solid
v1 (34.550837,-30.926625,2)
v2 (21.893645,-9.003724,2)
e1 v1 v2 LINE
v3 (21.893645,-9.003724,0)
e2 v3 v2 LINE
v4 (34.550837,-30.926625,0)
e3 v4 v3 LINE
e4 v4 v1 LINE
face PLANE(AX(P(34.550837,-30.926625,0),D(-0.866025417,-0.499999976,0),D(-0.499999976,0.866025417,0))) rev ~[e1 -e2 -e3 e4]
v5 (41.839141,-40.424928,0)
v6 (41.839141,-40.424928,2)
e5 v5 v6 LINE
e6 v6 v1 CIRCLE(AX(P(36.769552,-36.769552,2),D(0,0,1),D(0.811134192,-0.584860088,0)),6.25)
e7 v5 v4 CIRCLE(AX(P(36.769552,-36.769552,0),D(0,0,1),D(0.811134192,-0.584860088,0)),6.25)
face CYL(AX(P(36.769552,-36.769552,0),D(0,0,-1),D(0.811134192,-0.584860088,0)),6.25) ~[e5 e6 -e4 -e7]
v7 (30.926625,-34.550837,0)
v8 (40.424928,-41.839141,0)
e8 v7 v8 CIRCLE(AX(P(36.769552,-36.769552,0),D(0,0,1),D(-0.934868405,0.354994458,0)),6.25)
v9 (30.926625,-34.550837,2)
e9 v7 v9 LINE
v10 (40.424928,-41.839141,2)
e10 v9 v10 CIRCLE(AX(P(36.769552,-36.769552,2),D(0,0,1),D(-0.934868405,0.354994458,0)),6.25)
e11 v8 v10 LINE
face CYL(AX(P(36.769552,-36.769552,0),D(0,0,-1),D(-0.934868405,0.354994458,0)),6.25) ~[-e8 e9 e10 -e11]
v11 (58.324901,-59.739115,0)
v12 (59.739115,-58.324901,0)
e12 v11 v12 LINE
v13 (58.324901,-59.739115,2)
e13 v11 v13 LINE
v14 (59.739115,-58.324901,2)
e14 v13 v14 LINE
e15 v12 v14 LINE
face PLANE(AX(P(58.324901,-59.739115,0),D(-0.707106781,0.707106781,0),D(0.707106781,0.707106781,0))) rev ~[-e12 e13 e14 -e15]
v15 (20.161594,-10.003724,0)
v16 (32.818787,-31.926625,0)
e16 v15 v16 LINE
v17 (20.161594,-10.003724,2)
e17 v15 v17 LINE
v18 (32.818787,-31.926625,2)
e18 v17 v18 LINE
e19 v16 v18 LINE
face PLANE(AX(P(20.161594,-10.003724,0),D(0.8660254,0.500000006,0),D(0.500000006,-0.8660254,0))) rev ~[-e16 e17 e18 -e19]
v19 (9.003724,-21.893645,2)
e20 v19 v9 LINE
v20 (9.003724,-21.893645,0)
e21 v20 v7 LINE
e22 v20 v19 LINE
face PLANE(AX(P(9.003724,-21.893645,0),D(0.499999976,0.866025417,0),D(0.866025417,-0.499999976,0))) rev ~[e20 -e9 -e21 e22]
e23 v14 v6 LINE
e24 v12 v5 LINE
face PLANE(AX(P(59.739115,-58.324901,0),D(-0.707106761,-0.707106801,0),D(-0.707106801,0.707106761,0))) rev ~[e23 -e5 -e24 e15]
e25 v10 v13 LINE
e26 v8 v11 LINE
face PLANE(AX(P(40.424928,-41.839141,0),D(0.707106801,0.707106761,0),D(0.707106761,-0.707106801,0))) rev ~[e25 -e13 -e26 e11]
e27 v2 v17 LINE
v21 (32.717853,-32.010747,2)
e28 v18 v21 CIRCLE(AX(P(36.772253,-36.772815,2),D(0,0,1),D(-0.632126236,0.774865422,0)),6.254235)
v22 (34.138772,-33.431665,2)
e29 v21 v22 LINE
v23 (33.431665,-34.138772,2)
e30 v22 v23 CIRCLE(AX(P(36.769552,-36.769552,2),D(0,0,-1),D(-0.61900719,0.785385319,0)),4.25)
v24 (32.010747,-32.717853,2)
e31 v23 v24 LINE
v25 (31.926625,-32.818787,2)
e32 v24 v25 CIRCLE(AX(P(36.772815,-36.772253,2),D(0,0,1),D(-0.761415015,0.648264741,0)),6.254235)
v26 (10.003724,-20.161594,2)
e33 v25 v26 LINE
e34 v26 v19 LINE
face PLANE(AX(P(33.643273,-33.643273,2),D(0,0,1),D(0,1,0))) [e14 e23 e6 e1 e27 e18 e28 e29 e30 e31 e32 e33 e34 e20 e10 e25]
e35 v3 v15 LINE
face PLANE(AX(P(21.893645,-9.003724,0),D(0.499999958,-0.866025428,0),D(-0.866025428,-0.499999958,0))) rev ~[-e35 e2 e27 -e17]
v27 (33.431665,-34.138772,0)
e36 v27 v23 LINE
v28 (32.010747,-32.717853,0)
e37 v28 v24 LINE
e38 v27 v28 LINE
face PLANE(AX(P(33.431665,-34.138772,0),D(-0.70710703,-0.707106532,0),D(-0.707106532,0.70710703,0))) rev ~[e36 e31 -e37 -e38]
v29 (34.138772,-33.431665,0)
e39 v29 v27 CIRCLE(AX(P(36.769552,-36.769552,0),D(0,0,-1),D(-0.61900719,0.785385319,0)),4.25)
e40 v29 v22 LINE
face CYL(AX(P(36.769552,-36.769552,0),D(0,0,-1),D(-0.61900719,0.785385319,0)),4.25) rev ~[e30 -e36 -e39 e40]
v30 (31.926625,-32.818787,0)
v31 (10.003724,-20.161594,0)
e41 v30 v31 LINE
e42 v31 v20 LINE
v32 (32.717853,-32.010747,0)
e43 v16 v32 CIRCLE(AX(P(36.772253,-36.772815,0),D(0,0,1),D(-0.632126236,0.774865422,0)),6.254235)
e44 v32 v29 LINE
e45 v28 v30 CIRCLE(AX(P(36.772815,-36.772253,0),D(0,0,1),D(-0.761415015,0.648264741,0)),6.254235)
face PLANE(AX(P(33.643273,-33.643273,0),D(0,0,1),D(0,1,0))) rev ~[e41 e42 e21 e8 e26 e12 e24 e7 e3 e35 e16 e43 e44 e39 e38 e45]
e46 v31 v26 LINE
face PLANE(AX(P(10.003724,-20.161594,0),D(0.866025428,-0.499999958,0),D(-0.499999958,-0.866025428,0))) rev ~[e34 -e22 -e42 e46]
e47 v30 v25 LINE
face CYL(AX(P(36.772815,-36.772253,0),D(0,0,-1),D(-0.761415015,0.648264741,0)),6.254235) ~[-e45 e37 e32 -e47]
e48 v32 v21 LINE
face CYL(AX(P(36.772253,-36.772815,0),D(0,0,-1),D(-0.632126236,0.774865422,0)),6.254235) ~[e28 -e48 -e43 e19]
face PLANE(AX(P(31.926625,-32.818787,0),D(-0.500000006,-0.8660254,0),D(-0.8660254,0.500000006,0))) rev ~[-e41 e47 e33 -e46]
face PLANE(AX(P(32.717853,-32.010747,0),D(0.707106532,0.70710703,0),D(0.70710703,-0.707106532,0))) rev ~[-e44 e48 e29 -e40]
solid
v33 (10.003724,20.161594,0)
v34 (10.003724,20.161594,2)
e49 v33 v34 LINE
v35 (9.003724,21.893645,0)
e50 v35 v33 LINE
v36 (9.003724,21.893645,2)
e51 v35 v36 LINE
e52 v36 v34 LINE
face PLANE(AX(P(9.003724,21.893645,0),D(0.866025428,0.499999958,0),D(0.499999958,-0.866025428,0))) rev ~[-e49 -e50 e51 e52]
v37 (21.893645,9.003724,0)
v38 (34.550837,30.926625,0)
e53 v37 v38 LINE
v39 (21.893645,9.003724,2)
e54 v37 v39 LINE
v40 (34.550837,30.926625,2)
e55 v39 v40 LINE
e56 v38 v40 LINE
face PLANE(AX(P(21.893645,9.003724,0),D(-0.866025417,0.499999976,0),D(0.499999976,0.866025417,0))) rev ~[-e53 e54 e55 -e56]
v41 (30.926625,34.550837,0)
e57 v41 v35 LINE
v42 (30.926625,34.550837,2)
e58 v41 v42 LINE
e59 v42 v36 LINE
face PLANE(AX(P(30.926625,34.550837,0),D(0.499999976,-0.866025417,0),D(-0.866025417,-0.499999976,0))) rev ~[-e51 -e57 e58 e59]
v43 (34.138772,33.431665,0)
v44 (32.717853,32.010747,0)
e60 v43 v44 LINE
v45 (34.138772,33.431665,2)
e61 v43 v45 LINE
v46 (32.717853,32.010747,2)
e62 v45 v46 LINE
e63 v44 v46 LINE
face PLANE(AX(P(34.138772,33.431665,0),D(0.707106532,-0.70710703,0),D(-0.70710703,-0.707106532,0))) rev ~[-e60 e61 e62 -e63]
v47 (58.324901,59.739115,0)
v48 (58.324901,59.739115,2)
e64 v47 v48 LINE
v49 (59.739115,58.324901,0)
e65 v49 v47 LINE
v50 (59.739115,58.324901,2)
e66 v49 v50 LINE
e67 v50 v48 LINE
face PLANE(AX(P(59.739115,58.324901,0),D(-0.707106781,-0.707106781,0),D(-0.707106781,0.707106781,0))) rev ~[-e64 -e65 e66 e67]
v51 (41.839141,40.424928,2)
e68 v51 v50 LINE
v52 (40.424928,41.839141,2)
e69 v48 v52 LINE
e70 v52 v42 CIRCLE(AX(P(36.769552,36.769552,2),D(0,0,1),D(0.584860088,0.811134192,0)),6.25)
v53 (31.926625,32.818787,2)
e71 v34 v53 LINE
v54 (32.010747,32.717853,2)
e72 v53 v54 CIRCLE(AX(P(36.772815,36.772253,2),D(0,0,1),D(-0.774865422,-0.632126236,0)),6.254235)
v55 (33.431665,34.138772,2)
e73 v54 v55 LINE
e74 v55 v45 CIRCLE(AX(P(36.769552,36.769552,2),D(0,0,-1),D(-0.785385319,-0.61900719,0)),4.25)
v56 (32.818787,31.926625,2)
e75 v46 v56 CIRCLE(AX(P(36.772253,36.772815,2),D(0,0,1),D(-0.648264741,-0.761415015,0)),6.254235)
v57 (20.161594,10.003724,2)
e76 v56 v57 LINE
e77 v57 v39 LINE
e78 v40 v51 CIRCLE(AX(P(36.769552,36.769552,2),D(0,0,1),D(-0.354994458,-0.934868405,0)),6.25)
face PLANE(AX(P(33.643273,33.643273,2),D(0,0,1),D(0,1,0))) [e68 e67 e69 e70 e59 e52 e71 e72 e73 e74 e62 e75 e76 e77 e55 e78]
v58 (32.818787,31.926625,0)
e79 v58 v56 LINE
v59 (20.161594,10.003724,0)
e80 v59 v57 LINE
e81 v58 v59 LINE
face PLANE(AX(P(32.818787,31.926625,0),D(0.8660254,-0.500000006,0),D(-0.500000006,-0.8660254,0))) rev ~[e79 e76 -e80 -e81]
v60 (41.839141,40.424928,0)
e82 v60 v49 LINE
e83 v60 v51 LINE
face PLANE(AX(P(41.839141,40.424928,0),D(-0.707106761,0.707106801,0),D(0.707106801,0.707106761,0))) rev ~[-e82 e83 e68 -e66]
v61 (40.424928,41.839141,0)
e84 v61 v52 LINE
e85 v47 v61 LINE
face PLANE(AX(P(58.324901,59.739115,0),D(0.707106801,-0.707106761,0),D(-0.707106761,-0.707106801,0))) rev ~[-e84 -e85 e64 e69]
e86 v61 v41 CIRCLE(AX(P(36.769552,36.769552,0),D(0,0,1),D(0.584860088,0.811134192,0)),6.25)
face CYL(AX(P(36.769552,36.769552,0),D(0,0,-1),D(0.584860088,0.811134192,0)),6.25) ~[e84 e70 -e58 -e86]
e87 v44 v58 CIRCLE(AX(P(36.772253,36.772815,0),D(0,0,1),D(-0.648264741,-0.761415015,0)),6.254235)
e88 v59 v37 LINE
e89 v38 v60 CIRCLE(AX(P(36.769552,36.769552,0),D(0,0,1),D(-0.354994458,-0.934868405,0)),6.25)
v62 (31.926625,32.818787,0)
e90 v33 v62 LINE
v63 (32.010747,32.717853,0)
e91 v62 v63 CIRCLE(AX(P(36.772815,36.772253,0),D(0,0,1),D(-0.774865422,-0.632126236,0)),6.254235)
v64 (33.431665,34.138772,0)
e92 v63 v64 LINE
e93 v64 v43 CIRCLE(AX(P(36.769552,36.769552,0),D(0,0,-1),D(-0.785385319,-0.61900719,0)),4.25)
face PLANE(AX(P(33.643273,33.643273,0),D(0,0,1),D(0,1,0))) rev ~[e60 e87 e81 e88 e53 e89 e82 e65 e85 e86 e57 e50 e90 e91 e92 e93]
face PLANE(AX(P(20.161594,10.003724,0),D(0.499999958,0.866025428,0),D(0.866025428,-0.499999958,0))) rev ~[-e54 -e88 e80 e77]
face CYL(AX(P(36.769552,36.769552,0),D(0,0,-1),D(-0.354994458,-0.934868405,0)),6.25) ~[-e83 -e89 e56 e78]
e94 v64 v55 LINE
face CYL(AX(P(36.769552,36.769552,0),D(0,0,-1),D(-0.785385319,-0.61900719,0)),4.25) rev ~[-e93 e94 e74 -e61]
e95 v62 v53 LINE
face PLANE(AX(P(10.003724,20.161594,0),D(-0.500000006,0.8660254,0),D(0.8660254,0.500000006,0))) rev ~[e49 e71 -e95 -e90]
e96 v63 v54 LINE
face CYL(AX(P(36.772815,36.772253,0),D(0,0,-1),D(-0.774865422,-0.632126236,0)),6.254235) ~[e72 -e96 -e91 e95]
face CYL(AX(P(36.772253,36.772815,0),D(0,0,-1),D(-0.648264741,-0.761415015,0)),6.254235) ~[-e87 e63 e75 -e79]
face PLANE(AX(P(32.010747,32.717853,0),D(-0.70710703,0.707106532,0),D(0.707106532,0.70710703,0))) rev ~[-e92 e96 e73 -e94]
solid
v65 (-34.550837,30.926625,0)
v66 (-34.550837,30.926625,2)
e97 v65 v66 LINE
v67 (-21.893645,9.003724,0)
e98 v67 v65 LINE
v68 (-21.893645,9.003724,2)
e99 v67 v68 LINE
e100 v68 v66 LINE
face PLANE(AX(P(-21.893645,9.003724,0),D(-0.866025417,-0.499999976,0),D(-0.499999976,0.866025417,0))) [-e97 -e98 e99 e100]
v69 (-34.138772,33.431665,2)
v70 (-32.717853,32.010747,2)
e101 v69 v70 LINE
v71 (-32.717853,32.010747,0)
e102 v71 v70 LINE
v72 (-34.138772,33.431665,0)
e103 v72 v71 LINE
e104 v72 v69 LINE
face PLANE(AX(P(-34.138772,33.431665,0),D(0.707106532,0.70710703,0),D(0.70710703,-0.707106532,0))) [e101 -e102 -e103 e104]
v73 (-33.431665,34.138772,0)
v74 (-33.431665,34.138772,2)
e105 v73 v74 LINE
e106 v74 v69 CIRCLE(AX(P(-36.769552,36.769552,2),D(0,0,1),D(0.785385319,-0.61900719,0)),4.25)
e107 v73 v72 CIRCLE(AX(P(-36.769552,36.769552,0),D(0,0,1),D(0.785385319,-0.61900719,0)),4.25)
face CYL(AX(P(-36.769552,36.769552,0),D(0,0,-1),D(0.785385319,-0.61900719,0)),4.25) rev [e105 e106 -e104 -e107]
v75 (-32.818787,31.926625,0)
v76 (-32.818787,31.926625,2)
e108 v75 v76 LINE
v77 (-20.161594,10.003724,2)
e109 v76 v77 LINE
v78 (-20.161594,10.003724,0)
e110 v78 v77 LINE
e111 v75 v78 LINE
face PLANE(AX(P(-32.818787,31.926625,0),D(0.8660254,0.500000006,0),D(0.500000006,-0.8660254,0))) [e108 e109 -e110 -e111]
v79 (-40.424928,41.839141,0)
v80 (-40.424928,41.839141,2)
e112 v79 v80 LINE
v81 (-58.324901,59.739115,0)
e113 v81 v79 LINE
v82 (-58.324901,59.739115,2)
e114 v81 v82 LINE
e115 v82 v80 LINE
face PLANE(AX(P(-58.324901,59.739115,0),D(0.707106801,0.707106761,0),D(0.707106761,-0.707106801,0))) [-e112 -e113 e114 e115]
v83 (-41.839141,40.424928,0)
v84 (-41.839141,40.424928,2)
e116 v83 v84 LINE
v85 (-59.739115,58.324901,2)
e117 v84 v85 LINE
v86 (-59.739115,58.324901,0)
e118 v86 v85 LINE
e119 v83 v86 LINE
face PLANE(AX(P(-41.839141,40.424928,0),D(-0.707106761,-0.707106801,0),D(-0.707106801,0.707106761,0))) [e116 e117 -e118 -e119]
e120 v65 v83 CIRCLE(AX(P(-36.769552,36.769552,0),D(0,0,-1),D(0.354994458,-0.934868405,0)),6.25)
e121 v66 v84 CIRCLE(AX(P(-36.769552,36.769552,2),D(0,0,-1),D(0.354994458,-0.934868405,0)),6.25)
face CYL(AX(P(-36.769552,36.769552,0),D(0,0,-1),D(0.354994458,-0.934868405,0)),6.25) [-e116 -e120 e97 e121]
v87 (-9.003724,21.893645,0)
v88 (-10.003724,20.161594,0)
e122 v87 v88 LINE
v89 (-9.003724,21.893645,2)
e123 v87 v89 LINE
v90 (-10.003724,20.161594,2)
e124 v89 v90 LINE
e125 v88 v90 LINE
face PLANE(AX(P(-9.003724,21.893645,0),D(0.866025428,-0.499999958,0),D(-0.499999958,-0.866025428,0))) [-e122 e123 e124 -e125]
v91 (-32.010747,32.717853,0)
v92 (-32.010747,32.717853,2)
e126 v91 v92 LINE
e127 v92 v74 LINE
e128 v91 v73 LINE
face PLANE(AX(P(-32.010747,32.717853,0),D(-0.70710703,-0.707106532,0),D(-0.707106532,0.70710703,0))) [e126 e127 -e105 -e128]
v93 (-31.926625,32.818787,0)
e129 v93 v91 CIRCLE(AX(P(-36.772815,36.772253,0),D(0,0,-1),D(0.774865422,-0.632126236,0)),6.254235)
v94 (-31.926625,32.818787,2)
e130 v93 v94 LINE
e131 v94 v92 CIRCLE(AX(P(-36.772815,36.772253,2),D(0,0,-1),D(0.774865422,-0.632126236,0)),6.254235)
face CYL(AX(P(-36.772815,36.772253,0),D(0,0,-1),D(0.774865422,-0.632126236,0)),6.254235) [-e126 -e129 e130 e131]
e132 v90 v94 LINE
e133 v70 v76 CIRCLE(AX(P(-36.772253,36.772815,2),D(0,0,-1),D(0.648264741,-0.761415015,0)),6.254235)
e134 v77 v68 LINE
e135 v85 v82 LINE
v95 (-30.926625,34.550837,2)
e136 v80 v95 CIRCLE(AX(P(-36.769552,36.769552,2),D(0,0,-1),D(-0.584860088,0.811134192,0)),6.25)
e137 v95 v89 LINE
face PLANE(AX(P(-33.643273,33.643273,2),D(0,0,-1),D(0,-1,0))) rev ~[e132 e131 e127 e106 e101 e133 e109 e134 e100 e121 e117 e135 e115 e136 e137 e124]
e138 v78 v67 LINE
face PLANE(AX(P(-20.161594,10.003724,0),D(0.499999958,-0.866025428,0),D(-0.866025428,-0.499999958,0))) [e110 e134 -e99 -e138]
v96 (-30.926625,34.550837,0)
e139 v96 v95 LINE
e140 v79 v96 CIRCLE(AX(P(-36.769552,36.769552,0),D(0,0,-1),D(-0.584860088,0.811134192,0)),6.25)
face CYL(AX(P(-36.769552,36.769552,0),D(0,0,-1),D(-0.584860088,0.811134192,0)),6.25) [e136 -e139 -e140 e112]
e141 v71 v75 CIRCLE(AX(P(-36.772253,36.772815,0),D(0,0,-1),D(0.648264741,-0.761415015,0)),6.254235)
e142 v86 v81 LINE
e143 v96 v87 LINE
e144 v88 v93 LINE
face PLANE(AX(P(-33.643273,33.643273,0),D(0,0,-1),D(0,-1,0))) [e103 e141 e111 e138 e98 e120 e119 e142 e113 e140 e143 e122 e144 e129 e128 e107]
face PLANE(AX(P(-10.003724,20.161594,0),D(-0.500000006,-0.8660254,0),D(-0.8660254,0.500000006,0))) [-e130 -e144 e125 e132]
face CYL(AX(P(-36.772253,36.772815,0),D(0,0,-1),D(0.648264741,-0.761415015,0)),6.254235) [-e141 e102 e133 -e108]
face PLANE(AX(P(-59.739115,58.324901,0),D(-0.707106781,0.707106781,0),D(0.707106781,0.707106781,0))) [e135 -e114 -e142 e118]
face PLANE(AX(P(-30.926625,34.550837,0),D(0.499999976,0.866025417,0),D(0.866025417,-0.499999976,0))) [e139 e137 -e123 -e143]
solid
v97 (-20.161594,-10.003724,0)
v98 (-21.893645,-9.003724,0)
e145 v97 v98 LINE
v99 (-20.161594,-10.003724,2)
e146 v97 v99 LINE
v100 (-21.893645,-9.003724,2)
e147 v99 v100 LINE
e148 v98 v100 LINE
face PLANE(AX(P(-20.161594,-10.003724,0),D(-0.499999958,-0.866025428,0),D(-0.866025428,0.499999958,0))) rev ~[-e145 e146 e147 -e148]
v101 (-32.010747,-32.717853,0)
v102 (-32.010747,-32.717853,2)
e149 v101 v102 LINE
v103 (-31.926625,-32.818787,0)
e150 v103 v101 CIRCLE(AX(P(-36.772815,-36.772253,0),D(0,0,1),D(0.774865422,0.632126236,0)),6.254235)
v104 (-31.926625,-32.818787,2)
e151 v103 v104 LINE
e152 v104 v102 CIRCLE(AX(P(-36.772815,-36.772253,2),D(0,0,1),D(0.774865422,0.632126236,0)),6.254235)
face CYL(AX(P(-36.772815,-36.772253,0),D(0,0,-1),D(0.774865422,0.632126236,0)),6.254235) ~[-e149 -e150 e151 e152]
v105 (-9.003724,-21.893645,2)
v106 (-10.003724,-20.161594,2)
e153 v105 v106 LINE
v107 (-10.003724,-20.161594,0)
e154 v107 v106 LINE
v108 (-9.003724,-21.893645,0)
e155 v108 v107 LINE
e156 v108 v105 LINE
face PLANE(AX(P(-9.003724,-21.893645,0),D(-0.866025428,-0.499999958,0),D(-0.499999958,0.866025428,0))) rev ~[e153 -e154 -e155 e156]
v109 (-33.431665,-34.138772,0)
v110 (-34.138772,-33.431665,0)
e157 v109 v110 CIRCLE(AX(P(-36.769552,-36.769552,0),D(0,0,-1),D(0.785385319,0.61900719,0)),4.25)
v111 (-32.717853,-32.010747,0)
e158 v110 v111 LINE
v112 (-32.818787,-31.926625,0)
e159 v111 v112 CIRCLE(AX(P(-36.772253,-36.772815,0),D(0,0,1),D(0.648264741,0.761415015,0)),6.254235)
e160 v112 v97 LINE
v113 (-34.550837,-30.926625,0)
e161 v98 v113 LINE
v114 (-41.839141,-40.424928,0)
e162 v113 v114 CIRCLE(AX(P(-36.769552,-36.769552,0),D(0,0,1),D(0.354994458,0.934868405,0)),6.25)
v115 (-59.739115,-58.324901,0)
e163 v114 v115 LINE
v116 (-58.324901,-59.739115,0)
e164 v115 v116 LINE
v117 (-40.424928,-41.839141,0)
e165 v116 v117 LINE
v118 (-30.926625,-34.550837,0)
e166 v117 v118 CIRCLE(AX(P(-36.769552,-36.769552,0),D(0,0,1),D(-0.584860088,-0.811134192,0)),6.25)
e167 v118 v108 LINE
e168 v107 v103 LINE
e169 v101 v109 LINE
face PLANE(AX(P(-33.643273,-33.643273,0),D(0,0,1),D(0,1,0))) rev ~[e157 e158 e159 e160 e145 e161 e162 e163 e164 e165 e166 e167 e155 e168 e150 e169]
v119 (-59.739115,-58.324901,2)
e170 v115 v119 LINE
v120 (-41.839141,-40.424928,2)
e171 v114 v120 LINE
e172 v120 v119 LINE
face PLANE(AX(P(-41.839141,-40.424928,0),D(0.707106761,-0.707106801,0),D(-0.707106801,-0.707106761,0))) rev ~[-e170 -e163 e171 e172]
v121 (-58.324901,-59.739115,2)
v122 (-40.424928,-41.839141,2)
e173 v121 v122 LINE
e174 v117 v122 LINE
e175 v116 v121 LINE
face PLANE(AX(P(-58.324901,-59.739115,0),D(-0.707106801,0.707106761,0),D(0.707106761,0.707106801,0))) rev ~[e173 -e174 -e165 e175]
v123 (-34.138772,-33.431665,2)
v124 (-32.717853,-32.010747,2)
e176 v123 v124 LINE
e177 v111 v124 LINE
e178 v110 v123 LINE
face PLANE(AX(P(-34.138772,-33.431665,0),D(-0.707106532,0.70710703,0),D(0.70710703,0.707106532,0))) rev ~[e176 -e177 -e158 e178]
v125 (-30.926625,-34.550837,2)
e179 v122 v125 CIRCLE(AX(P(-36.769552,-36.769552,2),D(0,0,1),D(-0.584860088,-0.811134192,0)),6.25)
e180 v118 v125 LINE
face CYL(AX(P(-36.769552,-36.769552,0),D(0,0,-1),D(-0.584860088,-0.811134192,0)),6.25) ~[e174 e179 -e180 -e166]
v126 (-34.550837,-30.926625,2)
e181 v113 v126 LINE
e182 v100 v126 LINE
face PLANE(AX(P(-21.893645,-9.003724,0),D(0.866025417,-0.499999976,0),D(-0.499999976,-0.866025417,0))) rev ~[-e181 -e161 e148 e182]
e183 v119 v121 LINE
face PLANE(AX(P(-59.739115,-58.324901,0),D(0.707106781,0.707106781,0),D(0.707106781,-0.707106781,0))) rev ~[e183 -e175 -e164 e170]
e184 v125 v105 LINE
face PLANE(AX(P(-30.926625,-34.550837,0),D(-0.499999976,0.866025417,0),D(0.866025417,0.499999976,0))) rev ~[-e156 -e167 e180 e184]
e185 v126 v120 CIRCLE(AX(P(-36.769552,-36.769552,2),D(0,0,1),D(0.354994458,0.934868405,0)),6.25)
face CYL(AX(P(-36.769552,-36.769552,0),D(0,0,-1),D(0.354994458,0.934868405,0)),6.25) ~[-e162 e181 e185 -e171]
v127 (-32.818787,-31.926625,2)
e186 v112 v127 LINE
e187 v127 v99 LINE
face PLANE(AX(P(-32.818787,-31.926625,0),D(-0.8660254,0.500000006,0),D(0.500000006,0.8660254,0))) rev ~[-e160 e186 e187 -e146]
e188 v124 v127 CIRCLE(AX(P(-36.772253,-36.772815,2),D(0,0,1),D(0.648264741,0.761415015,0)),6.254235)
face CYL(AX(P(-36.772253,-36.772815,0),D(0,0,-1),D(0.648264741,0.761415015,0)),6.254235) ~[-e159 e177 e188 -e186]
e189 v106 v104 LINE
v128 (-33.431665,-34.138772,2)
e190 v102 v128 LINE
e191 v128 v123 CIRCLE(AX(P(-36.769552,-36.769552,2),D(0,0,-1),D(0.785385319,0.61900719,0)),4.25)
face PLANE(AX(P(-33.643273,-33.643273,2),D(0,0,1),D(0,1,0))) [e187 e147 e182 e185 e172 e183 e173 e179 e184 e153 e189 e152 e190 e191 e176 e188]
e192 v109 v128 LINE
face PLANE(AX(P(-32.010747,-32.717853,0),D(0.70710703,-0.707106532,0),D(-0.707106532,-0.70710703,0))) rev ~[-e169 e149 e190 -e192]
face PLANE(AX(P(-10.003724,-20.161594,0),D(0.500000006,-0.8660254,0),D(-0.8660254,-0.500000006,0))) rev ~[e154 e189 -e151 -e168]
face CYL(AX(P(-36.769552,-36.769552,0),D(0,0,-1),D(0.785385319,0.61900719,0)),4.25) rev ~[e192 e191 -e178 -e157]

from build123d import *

# Parameters (mm, degrees)
EXTRUDE_DEPTH    = 2
EXTRUDE001_DEPTH = 2
EXTRUDE002_DEPTH = 2
EXTRUDE003_DEPTH = 2


with BuildPart() as extrude_body:
    # Face → Extrude (new body)
    with BuildSketch(Plane(origin=(-33.892057, 33.892057, 0), x_dir=(0, -1, 0), z_dir=(0, 0, -1))):
        with BuildLine():
            Line((24.888333, -11.998412), (2.965432, 0.65878))
            ThreePointArc((2.965432, 0.65878), (0.927263, 7.835954), (-6.532871, 7.947084))
            Line((-6.532871, 7.947084), (-24.432844, 25.847058))
            Line((-24.432844, 25.847058), (-25.847058, 24.432844))
            Line((-25.847058, 24.432844), (-7.947084, 6.532871))
            ThreePointArc((-7.947084, 6.532871), (-7.835954, -0.927263), (-0.65878, -2.965432))
            Line((-0.65878, -2.965432), (11.998412, -24.888333))
            Line((11.998412, -24.888333), (13.730463, -23.888333))
            Line((13.730463, -23.888333), (1.07327, -1.965432))
            ThreePointArc((1.07327, -1.965432), (1.123958, -1.923636), (1.174204, -1.88131))
            Line((1.174204, -1.88131), (-0.246715, -0.460392))
            ThreePointArc((-0.246715, -0.460392), (-5.882699, 5.882699), (0.460392, 0.246715))
            Line((0.460392, 0.246715), (1.88131, -1.174204))
            ThreePointArc((1.88131, -1.174204), (1.923636, -1.123958), (1.965432, -1.07327))
            Line((1.965432, -1.07327), (23.888333, -13.730463))
            Line((23.888333, -13.730463), (24.888333, -11.998412))
        make_face()
    extrude(amount=-EXTRUDE_DEPTH)


with BuildPart() as extrude001:
    # Face001 → Extrude001 (new body)
    with BuildSketch(Plane(origin=(33.892057, 33.892057, 0), x_dir=(0, 1, 0), z_dir=(0, 0, 1))):
        with BuildLine():
            Line((25.847058, -24.432844), (7.947084, -6.532871))
            ThreePointArc((7.947084, -6.532871), (7.835954, 0.927263), (0.65878, 2.965432))
            Line((0.65878, 2.965432), (-11.998412, 24.888333))
            Line((-11.998412, 24.888333), (-13.730463, 23.888333))
            Line((-13.730463, 23.888333), (-1.07327, 1.965432))
            ThreePointArc((-1.07327, 1.965432), (-1.123958, 1.923636), (-1.174204, 1.88131))
            Line((-1.174204, 1.88131), (0.246715, 0.460392))
            ThreePointArc((0.246715, 0.460392), (5.882699, -5.882699), (-0.460392, -0.246715))
            Line((-0.460392, -0.246715), (-1.88131, 1.174204))
            ThreePointArc((-1.88131, 1.174204), (-1.923636, 1.123958), (-1.965432, 1.07327))
            Line((-1.965432, 1.07327), (-23.888333, 13.730463))
            Line((-23.888333, 13.730463), (-24.888333, 11.998412))
            Line((-24.888333, 11.998412), (-2.965432, -0.65878))
            ThreePointArc((-2.965432, -0.65878), (-0.927263, -7.835954), (6.532871, -7.947084))
            Line((6.532871, -7.947084), (24.432844, -25.847058))
            Line((24.432844, -25.847058), (25.847058, -24.432844))
        make_face()
    extrude(amount=EXTRUDE001_DEPTH)


with BuildPart() as extrude002:
    # Face002 → Extrude002 (new body)
    with BuildSketch(Plane(origin=(33.892057, -33.892057, 0), x_dir=(0, 1, 0), z_dir=(0, 0, 1))):
        with BuildLine():
            Line((11.998412, 24.888333), (-0.65878, 2.965432))
            ThreePointArc((-0.65878, 2.965432), (-7.835954, 0.927263), (-7.947084, -6.532871))
            Line((-7.947084, -6.532871), (-25.847058, -24.432844))
            Line((-25.847058, -24.432844), (-24.432844, -25.847058))
            Line((-24.432844, -25.847058), (-6.532871, -7.947084))
            ThreePointArc((-6.532871, -7.947084), (0.927263, -7.835954), (2.965432, -0.65878))
            Line((2.965432, -0.65878), (24.888333, 11.998412))
            Line((24.888333, 11.998412), (23.888333, 13.730463))
            Line((23.888333, 13.730463), (1.965432, 1.07327))
            ThreePointArc((1.965432, 1.07327), (1.923636, 1.123958), (1.88131, 1.174204))
            Line((1.88131, 1.174204), (0.460392, -0.246715))
            ThreePointArc((0.460392, -0.246715), (-5.882699, -5.882699), (-0.246715, 0.460392))
            Line((-0.246715, 0.460392), (1.174204, 1.88131))
            ThreePointArc((1.174204, 1.88131), (1.123958, 1.923636), (1.07327, 1.965432))
            Line((1.07327, 1.965432), (13.730463, 23.888333))
            Line((13.730463, 23.888333), (11.998412, 24.888333))
        make_face()
    extrude(amount=EXTRUDE002_DEPTH)


with BuildPart() as extrude003:
    # Face003 → Extrude003 (new body)
    with BuildSketch(Plane(origin=(-33.892057, -33.892057, 0), x_dir=(0, 1, 0), z_dir=(0, 0, 1))):
        with BuildLine():
            Line((24.888333, -11.998412), (2.965432, 0.65878))
            ThreePointArc((2.965432, 0.65878), (0.927263, 7.835954), (-6.532871, 7.947084))
            Line((-6.532871, 7.947084), (-24.432844, 25.847058))
            Line((-24.432844, 25.847058), (-25.847058, 24.432844))
            Line((-25.847058, 24.432844), (-7.947084, 6.532871))
            ThreePointArc((-7.947084, 6.532871), (-7.835954, -0.927263), (-0.65878, -2.965432))
            Line((-0.65878, -2.965432), (11.998412, -24.888333))
            Line((11.998412, -24.888333), (13.730463, -23.888333))
            Line((13.730463, -23.888333), (1.07327, -1.965432))
            ThreePointArc((1.07327, -1.965432), (1.123958, -1.923636), (1.174204, -1.88131))
            Line((1.174204, -1.88131), (-0.246715, -0.460392))
            ThreePointArc((-0.246715, -0.460392), (-5.882699, 5.882699), (0.460392, 0.246715))
            Line((0.460392, 0.246715), (1.88131, -1.174204))
            ThreePointArc((1.88131, -1.174204), (1.923636, -1.123958), (1.965432, -1.07327))
            Line((1.965432, -1.07327), (23.888333, -13.730463))
            Line((23.888333, -13.730463), (24.888333, -11.998412))
        make_face()
    extrude(amount=EXTRUDE003_DEPTH)


solid = Compound([extrude_body.part, extrude001.part, extrude002.part, extrude003.part])
